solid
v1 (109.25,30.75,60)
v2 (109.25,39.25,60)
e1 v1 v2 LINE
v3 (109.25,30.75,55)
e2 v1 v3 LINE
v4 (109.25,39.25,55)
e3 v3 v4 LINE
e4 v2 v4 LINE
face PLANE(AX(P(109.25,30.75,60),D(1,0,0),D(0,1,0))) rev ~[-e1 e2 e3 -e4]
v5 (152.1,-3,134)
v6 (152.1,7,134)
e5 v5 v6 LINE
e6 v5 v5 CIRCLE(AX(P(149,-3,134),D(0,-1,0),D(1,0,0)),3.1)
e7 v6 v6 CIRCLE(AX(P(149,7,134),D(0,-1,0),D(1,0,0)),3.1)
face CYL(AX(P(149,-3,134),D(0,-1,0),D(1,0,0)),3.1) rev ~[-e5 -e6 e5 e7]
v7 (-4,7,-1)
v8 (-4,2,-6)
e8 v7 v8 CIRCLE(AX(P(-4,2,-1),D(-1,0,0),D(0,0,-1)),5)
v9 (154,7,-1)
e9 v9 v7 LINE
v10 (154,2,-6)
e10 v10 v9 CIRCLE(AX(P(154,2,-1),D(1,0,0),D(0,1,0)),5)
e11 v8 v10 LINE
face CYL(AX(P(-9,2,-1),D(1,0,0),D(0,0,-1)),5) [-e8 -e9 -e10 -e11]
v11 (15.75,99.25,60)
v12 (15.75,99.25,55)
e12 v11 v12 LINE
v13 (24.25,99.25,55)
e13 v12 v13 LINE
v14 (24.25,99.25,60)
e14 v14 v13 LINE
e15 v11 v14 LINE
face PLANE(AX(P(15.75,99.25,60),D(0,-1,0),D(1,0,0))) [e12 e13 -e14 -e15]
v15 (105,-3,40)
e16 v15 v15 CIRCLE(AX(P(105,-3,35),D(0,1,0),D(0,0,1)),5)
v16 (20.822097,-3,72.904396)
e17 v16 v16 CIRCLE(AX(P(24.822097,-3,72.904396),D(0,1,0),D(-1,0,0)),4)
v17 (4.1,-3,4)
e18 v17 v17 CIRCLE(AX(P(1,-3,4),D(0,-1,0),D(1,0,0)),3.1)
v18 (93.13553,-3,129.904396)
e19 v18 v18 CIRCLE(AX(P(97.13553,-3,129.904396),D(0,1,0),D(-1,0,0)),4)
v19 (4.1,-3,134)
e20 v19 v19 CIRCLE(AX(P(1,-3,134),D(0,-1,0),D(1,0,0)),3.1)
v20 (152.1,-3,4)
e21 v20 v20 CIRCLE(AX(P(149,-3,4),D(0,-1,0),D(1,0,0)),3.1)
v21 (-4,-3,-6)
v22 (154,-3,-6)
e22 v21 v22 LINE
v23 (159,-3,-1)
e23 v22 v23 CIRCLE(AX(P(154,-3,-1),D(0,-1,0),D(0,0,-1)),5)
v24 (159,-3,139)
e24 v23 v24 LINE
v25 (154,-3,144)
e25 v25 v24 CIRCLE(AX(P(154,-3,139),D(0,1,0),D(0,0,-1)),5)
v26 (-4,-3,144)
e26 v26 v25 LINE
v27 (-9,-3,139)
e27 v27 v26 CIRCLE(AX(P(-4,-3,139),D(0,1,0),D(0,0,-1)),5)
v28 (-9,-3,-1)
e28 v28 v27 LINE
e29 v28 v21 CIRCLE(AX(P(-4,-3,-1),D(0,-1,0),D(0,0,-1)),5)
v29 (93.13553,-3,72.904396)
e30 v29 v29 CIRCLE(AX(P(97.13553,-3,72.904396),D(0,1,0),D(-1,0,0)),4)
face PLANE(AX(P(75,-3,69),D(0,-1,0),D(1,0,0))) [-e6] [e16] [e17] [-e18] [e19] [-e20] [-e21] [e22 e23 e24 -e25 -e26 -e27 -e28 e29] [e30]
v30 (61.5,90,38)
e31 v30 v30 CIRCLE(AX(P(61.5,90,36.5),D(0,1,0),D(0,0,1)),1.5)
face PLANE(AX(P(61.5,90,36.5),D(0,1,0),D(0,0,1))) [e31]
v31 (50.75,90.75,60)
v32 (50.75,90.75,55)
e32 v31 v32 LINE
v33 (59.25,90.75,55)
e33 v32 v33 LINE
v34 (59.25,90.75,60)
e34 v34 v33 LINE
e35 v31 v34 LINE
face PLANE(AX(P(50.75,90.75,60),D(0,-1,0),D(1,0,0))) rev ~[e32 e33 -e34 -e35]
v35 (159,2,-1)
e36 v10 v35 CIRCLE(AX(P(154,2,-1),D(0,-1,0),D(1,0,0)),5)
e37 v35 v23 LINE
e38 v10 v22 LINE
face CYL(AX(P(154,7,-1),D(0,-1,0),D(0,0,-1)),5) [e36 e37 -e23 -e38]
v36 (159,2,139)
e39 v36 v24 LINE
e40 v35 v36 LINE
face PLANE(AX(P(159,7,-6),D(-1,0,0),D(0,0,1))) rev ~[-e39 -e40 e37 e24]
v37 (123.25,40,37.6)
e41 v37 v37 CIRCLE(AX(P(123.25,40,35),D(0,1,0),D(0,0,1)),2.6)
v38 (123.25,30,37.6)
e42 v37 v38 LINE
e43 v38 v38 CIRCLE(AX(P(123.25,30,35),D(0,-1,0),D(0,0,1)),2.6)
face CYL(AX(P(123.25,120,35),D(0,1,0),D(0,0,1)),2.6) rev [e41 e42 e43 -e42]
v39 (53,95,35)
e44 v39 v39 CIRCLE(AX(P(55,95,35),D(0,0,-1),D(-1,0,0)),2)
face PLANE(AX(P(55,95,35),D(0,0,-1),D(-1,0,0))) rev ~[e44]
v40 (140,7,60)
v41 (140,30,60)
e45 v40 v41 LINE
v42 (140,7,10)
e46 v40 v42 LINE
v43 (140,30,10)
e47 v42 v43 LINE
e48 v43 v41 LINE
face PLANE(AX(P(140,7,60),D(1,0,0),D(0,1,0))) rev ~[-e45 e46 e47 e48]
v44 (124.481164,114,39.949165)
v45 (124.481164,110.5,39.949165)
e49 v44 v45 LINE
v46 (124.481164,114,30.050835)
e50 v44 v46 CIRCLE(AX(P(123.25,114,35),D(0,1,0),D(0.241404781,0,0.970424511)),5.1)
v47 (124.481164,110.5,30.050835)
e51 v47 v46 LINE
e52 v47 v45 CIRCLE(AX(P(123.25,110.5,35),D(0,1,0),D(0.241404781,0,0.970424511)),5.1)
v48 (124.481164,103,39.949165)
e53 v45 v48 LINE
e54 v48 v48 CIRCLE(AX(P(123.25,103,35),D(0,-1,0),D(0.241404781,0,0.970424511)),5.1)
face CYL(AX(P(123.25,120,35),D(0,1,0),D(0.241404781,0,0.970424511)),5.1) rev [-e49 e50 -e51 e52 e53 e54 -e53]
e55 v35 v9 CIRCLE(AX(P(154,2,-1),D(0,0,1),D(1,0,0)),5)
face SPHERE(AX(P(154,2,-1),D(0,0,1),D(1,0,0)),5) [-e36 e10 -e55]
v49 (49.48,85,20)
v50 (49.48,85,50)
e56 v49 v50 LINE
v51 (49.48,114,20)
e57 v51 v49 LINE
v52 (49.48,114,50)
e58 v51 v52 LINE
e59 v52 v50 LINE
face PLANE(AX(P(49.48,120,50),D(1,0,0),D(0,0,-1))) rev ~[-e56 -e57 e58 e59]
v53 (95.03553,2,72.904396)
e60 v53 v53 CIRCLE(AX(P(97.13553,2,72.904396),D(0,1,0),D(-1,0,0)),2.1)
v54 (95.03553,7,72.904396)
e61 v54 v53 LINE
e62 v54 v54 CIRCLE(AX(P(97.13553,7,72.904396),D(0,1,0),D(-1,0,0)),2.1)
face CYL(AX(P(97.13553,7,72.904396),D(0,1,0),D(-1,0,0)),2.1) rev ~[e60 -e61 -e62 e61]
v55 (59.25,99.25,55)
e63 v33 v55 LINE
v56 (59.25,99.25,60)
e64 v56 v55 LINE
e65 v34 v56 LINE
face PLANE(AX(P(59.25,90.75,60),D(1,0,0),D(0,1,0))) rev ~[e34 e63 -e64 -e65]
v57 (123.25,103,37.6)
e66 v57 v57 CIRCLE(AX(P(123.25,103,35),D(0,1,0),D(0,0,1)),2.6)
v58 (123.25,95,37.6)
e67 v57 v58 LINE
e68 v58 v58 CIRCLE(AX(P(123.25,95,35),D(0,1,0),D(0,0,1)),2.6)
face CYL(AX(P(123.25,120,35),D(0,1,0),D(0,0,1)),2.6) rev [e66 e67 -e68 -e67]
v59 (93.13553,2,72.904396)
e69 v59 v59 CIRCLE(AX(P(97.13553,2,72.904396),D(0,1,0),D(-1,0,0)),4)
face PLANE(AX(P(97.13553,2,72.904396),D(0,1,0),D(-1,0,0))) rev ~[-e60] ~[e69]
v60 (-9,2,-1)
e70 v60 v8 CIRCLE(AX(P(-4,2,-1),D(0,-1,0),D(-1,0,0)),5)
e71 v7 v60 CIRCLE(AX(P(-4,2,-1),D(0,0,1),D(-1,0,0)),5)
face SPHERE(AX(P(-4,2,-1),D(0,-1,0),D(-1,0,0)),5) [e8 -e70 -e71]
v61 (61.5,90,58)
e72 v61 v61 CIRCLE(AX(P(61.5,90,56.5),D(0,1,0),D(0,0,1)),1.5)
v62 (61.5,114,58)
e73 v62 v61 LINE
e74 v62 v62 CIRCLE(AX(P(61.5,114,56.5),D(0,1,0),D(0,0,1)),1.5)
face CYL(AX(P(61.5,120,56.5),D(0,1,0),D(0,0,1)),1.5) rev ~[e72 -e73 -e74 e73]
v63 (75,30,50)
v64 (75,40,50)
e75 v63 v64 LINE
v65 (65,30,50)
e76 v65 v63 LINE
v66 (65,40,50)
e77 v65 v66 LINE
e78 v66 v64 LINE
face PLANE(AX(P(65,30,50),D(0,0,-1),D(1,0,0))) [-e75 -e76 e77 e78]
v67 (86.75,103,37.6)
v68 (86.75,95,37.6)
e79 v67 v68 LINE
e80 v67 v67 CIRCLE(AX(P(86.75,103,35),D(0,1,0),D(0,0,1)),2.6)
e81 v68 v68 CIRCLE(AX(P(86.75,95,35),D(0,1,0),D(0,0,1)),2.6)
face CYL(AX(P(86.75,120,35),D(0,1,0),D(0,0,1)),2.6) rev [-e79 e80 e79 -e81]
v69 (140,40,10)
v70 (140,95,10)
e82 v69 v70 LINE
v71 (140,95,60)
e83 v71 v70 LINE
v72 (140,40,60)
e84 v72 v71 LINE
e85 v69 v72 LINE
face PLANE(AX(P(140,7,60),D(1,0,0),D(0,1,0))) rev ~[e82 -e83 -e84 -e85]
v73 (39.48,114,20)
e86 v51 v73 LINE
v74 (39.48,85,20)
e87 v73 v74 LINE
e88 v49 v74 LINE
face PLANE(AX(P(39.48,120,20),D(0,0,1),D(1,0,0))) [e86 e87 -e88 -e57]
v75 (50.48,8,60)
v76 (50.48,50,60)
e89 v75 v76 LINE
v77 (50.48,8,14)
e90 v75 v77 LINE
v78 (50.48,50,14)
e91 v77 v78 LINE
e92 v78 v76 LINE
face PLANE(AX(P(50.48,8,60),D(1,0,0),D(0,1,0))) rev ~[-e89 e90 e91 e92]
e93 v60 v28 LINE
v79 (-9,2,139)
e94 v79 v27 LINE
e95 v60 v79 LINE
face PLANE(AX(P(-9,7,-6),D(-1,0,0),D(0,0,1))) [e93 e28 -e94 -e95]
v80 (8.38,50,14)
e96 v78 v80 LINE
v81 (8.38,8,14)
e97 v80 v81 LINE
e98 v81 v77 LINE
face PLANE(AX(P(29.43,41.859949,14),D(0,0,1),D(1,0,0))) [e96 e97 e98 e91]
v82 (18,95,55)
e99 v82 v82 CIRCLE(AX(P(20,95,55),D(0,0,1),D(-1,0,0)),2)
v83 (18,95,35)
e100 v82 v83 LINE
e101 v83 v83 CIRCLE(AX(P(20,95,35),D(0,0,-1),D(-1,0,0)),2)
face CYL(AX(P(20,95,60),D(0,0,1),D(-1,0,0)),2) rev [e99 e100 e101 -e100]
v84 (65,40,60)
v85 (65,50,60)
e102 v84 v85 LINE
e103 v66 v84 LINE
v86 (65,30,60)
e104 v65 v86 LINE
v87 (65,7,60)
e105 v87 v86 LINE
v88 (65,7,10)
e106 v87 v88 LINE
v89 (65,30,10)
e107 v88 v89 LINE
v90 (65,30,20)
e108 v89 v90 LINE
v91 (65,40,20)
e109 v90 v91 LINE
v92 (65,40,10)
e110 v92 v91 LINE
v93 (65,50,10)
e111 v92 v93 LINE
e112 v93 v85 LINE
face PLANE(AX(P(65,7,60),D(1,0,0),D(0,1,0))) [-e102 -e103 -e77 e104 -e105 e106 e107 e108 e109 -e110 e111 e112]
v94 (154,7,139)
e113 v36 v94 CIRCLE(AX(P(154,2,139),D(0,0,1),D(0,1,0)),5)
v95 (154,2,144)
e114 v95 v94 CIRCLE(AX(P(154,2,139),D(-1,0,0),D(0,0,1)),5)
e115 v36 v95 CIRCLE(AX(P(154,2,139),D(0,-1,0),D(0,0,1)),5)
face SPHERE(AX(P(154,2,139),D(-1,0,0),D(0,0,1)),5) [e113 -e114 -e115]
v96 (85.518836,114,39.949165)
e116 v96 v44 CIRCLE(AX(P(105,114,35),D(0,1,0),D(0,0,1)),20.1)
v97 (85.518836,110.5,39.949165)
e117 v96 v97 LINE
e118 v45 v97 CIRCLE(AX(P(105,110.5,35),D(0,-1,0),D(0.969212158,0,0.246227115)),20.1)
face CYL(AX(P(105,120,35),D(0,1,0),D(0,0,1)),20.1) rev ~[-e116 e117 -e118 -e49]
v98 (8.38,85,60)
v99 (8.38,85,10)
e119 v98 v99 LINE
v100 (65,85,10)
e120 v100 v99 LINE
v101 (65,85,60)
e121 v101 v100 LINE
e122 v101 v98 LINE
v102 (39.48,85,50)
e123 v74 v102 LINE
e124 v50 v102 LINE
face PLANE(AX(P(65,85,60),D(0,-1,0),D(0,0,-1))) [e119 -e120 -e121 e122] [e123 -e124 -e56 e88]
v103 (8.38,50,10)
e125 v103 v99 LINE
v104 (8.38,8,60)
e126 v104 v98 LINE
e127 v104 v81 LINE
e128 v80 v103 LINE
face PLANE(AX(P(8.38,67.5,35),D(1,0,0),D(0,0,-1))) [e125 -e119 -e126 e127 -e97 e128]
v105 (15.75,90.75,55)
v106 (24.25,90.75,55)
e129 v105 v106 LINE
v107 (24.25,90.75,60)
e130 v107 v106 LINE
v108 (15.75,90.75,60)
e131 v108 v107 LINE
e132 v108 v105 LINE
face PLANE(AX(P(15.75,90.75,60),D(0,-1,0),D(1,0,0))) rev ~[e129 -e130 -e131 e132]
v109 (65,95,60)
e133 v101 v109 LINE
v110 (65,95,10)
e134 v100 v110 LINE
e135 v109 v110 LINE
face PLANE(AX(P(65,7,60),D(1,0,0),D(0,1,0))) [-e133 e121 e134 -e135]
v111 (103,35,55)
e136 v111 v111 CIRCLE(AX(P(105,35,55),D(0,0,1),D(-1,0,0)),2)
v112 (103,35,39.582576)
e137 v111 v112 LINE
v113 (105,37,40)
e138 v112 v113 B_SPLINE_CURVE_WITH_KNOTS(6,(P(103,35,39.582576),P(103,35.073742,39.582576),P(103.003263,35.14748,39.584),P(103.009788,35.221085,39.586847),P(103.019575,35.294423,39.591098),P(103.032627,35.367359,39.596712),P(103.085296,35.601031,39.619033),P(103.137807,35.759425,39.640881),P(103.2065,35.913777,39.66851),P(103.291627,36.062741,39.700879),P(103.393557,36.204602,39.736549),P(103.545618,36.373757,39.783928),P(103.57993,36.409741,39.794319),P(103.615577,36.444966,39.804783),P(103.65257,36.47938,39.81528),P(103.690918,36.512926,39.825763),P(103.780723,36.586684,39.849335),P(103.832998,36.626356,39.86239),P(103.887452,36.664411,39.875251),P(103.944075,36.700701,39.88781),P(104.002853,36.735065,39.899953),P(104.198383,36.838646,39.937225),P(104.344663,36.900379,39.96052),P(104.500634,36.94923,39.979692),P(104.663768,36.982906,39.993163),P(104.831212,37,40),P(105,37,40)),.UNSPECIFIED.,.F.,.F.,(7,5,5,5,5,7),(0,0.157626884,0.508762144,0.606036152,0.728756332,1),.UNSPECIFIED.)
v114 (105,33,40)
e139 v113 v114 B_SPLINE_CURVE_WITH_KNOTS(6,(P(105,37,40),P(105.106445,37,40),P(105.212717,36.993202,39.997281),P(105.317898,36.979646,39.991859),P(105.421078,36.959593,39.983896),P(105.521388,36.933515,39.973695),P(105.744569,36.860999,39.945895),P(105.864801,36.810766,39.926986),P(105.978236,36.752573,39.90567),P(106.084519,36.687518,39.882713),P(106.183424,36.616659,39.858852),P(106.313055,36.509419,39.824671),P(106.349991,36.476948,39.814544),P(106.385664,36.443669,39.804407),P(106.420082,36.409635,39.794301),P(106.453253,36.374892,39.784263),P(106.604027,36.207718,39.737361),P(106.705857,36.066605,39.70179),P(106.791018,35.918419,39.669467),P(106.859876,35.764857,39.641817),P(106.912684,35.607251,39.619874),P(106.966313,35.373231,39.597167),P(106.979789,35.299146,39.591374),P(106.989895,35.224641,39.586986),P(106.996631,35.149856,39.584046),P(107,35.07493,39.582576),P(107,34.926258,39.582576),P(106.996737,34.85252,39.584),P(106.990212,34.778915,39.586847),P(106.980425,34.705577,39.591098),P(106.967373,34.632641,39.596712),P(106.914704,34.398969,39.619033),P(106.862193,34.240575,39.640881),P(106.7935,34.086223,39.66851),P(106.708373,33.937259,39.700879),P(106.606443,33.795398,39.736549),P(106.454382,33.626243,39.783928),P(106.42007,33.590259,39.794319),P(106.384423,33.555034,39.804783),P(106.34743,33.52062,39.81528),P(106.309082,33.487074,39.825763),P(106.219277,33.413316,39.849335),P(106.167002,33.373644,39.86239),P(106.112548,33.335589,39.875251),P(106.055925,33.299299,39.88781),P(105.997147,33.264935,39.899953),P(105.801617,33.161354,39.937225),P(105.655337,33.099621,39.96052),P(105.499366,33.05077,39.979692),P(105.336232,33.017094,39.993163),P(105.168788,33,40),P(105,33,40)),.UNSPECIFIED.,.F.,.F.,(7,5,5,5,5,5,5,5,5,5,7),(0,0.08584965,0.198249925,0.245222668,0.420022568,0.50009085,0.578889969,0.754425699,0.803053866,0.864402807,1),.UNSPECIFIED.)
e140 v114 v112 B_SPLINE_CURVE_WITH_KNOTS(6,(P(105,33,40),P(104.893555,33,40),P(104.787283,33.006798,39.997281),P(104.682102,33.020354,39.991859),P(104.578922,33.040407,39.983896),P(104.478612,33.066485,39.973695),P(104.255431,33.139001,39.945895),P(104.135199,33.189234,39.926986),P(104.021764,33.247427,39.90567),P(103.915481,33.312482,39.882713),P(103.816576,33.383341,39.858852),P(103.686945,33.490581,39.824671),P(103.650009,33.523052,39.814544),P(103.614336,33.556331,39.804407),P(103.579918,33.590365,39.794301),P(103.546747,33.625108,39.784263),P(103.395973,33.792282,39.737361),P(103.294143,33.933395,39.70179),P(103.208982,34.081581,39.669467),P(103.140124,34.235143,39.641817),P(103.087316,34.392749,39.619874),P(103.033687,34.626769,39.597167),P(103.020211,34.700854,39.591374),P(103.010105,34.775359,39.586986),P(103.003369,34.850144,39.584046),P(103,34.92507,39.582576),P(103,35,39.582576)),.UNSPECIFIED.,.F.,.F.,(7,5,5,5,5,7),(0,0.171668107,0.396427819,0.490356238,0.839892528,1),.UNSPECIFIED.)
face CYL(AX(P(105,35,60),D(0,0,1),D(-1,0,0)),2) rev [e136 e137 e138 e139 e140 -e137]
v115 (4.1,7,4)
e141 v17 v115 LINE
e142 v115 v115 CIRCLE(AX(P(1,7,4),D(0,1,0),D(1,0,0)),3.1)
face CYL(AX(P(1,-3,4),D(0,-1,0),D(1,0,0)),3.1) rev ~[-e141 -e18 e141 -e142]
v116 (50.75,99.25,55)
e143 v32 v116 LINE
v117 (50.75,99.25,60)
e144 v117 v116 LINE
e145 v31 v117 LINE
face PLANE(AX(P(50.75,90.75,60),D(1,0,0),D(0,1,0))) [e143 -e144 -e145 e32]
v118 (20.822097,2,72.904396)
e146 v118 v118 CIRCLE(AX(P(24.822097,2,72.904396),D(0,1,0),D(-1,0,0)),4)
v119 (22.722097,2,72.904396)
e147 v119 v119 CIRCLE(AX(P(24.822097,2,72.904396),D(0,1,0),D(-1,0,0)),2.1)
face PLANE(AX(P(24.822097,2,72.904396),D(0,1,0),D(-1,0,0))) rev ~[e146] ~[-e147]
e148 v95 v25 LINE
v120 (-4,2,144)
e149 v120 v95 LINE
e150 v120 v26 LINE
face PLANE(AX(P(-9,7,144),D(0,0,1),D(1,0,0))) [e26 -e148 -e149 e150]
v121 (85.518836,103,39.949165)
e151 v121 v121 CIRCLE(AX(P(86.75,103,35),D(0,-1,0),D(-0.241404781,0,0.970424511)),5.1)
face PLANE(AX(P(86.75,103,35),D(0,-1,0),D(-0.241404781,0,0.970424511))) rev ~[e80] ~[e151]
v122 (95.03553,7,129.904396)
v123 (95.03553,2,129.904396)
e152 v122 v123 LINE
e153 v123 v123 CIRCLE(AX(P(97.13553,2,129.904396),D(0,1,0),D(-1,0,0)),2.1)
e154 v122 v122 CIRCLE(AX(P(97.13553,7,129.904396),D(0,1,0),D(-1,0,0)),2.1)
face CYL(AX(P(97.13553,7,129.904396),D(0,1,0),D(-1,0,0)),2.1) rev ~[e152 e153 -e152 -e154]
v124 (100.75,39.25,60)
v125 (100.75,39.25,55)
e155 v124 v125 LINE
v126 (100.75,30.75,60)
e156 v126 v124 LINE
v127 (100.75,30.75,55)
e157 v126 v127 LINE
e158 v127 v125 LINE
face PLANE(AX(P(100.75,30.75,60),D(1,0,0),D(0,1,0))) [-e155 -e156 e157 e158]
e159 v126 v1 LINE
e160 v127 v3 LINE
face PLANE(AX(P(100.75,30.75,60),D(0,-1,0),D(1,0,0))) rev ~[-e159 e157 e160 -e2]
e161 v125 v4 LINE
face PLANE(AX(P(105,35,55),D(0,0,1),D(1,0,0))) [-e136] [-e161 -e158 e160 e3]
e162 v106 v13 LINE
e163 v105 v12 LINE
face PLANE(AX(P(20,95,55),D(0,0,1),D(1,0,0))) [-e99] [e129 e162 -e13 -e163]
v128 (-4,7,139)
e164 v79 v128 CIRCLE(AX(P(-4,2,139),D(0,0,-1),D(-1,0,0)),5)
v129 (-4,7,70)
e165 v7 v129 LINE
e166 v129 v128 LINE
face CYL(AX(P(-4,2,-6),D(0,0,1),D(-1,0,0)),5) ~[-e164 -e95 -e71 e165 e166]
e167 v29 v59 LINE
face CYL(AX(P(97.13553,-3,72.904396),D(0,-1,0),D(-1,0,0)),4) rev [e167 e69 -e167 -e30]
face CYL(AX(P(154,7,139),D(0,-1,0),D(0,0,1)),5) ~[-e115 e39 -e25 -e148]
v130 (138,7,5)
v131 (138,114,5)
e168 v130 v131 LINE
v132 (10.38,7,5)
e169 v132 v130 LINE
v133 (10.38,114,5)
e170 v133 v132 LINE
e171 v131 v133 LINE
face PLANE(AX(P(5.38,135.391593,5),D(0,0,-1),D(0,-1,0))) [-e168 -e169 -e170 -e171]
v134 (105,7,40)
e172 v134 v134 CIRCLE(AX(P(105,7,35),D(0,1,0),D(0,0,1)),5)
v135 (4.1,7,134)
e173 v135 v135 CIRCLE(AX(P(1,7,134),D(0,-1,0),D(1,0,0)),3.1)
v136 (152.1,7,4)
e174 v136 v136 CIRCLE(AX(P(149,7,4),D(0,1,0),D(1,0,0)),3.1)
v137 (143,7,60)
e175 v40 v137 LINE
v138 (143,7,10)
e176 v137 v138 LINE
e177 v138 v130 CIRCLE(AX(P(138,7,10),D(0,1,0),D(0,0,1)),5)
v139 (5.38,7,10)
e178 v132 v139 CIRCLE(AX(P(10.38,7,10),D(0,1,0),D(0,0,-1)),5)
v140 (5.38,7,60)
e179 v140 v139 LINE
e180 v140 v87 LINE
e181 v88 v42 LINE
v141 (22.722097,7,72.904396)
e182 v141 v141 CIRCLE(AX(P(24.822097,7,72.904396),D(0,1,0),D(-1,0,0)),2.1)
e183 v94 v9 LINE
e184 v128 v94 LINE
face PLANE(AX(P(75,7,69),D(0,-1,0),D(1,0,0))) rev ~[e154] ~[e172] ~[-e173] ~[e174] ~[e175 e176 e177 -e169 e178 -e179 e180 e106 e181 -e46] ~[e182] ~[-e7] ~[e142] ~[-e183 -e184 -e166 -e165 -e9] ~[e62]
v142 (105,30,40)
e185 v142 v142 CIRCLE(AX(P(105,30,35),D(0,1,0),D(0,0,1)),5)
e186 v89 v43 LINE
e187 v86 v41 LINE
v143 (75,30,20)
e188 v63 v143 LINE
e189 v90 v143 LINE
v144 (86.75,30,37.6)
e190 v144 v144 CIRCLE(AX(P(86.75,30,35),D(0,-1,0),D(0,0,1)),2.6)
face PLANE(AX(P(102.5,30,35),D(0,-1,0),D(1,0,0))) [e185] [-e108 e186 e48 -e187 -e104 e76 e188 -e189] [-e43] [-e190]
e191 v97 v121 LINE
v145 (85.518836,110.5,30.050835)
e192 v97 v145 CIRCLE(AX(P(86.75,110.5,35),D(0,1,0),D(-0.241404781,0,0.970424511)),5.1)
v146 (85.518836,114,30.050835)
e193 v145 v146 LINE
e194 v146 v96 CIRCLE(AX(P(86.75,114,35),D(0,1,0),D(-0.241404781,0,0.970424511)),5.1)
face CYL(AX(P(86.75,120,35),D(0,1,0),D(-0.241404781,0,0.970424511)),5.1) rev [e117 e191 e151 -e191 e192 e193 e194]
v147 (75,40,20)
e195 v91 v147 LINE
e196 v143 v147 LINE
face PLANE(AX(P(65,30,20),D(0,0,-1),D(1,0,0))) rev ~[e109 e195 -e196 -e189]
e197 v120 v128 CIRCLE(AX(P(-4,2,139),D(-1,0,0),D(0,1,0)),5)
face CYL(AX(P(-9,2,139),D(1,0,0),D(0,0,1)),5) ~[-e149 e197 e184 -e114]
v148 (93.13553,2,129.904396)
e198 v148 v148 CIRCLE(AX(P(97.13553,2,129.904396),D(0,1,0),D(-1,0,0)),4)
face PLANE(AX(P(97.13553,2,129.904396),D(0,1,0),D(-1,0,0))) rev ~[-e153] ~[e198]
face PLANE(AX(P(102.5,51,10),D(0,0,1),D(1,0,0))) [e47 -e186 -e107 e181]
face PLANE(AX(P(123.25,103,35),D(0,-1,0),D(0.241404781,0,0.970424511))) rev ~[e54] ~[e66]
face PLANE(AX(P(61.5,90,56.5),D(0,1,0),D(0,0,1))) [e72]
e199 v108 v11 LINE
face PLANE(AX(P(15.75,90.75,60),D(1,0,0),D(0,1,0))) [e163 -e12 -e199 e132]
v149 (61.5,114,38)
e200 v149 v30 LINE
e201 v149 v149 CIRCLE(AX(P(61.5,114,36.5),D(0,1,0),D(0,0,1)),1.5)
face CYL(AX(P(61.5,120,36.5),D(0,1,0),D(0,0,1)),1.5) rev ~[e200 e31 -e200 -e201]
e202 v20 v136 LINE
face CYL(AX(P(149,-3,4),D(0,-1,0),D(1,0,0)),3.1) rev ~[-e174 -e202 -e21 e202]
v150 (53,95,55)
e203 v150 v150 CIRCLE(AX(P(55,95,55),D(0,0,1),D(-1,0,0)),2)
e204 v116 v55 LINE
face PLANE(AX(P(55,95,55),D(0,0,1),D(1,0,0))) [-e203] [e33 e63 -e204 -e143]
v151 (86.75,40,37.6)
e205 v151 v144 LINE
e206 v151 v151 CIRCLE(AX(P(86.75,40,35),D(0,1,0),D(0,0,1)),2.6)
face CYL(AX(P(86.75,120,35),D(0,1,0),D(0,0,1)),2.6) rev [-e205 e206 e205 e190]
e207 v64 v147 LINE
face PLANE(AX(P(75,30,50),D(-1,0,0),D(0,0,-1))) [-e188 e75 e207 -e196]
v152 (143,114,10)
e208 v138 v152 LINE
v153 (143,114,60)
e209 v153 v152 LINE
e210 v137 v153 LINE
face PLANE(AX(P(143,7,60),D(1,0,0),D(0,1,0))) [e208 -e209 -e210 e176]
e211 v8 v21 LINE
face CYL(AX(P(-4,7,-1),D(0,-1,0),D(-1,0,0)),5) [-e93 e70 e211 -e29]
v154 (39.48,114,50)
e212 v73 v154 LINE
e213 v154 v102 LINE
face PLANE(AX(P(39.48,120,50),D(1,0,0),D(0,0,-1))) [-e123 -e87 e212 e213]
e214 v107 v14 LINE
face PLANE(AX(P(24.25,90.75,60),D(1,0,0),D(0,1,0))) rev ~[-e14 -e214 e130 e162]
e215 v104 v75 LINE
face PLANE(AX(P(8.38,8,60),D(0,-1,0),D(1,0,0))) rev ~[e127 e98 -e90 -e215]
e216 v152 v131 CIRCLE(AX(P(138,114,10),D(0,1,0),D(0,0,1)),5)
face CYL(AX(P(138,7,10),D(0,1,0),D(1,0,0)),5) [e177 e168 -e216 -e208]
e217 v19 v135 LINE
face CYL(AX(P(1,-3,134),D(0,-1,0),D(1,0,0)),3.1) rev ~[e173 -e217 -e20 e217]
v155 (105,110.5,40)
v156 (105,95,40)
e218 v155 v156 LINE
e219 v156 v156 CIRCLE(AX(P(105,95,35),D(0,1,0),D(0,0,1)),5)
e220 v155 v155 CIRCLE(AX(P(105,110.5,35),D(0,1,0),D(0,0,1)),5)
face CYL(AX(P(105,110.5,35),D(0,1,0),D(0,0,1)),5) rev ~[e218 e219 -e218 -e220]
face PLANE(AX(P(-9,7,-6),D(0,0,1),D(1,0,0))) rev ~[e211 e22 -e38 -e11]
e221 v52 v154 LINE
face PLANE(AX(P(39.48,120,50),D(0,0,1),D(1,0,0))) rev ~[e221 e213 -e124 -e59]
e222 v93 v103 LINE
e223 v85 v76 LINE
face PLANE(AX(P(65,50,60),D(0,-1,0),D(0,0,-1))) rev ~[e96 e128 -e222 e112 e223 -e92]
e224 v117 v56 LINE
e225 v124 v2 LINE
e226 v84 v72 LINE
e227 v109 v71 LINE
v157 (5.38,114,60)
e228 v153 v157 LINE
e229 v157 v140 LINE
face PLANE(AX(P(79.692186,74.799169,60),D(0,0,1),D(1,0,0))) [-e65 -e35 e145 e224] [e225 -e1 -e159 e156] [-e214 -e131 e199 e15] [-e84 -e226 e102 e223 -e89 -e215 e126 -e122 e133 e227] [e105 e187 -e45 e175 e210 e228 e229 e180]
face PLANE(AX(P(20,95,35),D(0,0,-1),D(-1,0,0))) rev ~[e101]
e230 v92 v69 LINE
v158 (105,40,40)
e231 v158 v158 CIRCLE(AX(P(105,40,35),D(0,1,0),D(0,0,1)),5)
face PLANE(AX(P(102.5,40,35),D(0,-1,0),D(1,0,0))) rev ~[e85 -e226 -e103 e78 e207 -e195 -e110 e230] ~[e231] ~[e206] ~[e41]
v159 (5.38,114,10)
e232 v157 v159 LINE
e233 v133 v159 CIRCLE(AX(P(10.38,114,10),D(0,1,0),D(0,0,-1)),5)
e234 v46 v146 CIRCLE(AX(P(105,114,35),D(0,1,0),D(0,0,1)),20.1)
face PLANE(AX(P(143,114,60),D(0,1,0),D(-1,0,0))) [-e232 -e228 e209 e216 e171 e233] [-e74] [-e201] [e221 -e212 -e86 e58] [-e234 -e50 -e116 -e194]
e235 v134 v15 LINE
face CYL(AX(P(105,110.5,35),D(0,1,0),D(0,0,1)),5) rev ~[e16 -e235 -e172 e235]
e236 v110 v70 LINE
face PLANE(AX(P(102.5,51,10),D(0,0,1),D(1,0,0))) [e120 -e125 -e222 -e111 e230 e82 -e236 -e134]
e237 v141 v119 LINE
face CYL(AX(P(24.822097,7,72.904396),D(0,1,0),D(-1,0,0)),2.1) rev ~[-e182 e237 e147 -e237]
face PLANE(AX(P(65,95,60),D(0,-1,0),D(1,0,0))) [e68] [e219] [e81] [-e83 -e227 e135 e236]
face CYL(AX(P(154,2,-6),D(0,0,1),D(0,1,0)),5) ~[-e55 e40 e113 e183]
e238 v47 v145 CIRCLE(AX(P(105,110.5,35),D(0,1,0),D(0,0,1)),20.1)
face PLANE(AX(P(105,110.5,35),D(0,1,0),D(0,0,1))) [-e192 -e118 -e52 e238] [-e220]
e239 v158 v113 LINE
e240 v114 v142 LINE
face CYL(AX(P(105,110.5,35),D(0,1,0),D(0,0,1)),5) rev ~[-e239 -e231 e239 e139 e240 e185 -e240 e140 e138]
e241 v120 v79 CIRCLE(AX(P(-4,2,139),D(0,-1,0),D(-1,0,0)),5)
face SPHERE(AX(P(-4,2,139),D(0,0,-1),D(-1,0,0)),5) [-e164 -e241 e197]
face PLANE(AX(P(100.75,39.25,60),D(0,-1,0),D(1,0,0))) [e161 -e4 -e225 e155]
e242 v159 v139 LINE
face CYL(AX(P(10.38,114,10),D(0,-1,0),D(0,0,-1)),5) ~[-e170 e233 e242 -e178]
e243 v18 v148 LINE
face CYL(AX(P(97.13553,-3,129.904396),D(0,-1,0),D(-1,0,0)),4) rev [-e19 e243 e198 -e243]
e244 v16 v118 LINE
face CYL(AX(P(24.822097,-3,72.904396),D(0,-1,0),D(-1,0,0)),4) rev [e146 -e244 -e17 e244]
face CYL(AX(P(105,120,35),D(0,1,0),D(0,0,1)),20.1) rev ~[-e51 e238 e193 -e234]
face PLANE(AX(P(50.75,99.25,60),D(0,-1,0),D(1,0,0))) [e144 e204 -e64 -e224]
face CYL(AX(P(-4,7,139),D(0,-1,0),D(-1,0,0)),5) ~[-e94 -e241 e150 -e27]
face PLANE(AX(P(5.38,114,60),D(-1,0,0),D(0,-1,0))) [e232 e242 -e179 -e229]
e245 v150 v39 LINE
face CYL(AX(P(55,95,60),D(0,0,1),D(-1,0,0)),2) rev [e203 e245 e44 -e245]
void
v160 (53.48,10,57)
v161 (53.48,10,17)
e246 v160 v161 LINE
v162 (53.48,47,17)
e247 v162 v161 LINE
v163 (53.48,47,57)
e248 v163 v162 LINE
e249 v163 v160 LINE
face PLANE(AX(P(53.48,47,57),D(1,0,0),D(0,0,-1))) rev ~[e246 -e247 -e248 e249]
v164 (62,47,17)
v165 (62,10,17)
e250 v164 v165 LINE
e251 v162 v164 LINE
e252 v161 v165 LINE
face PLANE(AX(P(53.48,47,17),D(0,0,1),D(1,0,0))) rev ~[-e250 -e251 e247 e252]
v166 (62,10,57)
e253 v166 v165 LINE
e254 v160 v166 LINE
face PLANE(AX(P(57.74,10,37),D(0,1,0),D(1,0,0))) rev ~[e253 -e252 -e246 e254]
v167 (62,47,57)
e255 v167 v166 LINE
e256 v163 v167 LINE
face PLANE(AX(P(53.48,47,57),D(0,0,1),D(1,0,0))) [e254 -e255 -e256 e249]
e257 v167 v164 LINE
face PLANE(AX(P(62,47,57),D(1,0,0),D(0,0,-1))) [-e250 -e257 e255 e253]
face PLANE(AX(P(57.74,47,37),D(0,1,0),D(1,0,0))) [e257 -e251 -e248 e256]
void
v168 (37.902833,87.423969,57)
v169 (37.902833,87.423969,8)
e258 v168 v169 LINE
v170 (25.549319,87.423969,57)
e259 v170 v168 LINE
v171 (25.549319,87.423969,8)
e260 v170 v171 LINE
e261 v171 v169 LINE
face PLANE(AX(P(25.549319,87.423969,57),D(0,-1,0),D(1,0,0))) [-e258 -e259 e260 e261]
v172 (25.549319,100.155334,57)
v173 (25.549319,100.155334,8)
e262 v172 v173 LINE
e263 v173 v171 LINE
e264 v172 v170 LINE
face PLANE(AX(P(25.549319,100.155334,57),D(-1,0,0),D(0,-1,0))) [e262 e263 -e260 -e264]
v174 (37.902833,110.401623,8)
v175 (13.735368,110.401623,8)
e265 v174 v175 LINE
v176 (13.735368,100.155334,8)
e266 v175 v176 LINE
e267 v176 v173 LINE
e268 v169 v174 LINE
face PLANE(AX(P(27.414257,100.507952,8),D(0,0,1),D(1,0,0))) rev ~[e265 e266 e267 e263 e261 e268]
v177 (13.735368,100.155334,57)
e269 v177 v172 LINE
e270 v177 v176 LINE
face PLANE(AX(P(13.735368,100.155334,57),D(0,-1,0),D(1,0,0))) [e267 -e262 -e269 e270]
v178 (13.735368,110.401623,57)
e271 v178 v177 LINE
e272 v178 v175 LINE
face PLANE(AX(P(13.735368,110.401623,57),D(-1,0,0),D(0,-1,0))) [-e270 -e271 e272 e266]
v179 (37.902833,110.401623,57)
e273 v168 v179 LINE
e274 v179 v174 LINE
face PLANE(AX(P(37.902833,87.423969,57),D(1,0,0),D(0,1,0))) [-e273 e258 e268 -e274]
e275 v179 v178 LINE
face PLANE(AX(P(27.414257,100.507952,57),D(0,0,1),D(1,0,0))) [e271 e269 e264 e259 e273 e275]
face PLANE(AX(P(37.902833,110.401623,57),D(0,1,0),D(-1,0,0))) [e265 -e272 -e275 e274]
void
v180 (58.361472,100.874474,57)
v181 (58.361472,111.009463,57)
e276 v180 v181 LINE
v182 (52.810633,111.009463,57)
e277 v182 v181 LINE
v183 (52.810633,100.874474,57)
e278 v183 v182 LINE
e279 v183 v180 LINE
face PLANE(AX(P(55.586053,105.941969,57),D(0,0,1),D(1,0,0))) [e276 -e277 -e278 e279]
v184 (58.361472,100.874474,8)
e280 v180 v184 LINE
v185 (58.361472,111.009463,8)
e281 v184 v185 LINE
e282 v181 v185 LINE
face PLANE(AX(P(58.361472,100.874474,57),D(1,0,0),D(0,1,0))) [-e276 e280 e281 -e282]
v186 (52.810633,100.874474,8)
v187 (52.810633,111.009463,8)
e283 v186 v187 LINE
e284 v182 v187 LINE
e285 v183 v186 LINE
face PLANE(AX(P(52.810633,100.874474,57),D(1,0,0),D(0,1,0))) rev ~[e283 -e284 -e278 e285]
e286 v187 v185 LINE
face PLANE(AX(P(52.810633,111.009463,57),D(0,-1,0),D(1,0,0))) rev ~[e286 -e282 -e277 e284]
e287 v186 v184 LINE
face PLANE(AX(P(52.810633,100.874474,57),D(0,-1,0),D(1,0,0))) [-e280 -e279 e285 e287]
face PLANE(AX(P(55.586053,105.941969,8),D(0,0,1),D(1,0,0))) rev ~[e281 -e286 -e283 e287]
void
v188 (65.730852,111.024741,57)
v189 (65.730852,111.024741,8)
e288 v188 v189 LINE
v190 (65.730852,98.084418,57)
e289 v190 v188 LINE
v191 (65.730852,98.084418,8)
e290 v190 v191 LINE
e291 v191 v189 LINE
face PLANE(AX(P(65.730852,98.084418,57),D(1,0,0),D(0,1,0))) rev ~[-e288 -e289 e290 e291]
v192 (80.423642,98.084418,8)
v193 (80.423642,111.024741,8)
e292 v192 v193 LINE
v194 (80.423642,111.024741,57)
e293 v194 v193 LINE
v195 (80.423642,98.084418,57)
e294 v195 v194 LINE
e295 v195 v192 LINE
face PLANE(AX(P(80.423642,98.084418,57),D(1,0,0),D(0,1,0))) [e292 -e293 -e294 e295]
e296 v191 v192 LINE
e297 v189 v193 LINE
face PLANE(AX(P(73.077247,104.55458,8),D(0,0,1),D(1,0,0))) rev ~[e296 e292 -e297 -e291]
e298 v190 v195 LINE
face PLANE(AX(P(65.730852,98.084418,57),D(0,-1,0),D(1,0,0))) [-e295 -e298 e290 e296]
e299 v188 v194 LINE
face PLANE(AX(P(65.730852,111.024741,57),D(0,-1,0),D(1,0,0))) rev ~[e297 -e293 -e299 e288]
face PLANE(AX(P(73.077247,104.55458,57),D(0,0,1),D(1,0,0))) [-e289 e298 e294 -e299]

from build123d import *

# Parameters (mm, degrees)
SKETCH1_W                = 150
SKETCH1_H                = 120
BOSS_EXTRUDE2_DEPTH      = 70
BOSS_EXTRUDE5_DEPTH      = 3
BOSS_EXTRUDE5_DEPTH_BACK = 7
SKETCH4_W                = 168
SKETCH4_H                = 150
SKETCH6_R                = 3.1
CUT_EXTRUDE1_DEPTH       = 20
FILLET2_R                = 5
SKETCH2_R                = 20.1
CUT_EXTRUDE2_DEPTH       = 9.5
SKETCH9_R                = 5
CUT_EXTRUDE5_DEPTH       = 20
SKETCH15_W               = 167.384372829
SKETCH15_H               = 135.598337876
CUT_EXTRUDE12_DEPTH      = 10
SKETCH16_W               = 75
SKETCH16_H               = 88
CUT_EXTRUDE13_DEPTH      = 50
BOSS_EXTRUDE6_START      = 55
SKETCH18_W               = 75
SKETCH18_H               = 50
BOSS_EXTRUDE6_DEPTH      = 10
CUT_EXTRUDE14_START      = -25
SKETCH17_R               = 5.1
CUT_EXTRUDE14_DEPTH      = 17
CUT_EXTRUDE15_START      = -25
SKETCH17_3_R             = 2.6
CUT_EXTRUDE15_DEPTH      = 90
SKETCH19_W               = 50
SKETCH19_H               = 35
CUT_EXTRUDE19_DEPTH      = 56.62
CUT_EXTRUDE20_DEPTH      = 46
CUT_EXTRUDE21_START      = -60
SKETCH21_R               = 2
CUT_EXTRUDE21_DEPTH      = 25
SKETCH9_4_R              = 5
CUT_EXTRUDE24_DEPTH      = 150
CUT_EXTRUDE25_START      = -10
SKETCH22_W               = 10
SKETCH22_H               = 30
CUT_EXTRUDE25_DEPTH      = 29
SKETCH23_R               = 2.1
CUT_EXTRUDE26_DEPTH      = 243.458243828
CUT_EXTRUDE27_START      = -10
SKETCH23_3_R             = 4
CUT_EXTRUDE27_DEPTH      = 5
SKETCH24_R               = 1.5
CUT_EXTRUDE28_DEPTH      = 30
SKETCH25_W               = 10
SKETCH25_H               = 30
CUT_EXTRUDE29_DEPTH      = 40
CUT_EXTRUDE30_DEPTH      = 196
CUT_EXTRUDE32_DEPTH      = 196
CUT_EXTRUDE33_START      = -3
SKETCH30_W               = 8.52
SKETCH30_H               = 40
CUT_EXTRUDE33_DEPTH      = 37
FILLET3_R                = 5
CUT_EXTRUDE34_START      = -3
SKETCH31_W               = 5.550839789
SKETCH31_H               = 10.134989035
SKETCH31_W_2             = 14.692790928
SKETCH31_H_2             = 12.94032263
CUT_EXTRUDE34_DEPTH      = 49
SKETCH32_W               = 8.5
SKETCH32_H               = 8.5
CUT_EXTRUDE37_DEPTH      = 5


with BuildPart() as part:
    # Sketch1 → Boss-Extrude2 (new body)
    with BuildSketch(Plane.XY):
        with Locations((75, 60)):
            Rectangle(SKETCH1_W, SKETCH1_H)
    extrude(amount=BOSS_EXTRUDE2_DEPTH)

    # Sketch4 → Boss-Extrude5 (add, two sides: drawn at the far end of the back side and taken through both)
    with BuildSketch(Plane.XZ.offset(-BOSS_EXTRUDE5_DEPTH_BACK)):
        with Locations((75, 69)):
            Rectangle(SKETCH4_W, SKETCH4_H)
    extrude(amount=BOSS_EXTRUDE5_DEPTH + BOSS_EXTRUDE5_DEPTH_BACK)

    # Sketch6 → Cut-Extrude1 (cut)
    with BuildSketch(Plane.XZ.offset(3)):
        with Locations((1, 134)):
            Circle(SKETCH6_R)
        with Locations((149, 134)):
            Circle(SKETCH6_R)
        with Locations((149, 4)):
            Circle(SKETCH6_R)
        with Locations((1, 4)):
            Circle(SKETCH6_R)
    extrude(amount=-CUT_EXTRUDE1_DEPTH, mode=Mode.SUBTRACT)

    # Fillet2
    fillet2_edges = [part.edges().sort_by_distance(p)[0] for p in [
        (-9, 2, -6),
        (-9, 7, 69),
        (-9, 2, 144),
        (75, 7, 144),
        (159, 2, 144),
        (159, 7, 69),
        (159, 2, -6),
        (75, 7, -6),
    ]]
    fillet(fillet2_edges, radius=FILLET2_R)

    # Sketch2 → Cut-Extrude2 (cut)
    with BuildSketch(Plane(origin=(0, 120, 0), x_dir=(1, 0, 0), z_dir=(0, 1, 0))):
        with Locations(Location((105, -35, 0), (0, 0, 270))):
            Circle(SKETCH2_R)
    extrude(amount=-CUT_EXTRUDE2_DEPTH, mode=Mode.SUBTRACT)

    # Sketch9 → Cut-Extrude5 (cut)
    with BuildSketch(Plane(origin=(0, 110.5, 0), x_dir=(1, 0, 0), z_dir=(0, 1, 0))):
        with Locations(Location((105, -35, 0), (0, 0, 270))):
            Circle(SKETCH9_R)
    extrude(amount=-CUT_EXTRUDE5_DEPTH, mode=Mode.SUBTRACT)

    # Sketch15 → Cut-Extrude12 (cut)
    with BuildSketch(Plane.XY.offset(70)):
        with Locations((79.692186415, 74.799168938)):
            Rectangle(SKETCH15_W, SKETCH15_H)
    extrude(amount=-CUT_EXTRUDE12_DEPTH, mode=Mode.SUBTRACT)

    # Sketch16 → Cut-Extrude13 (cut)
    with BuildSketch(Plane.XY.offset(60)):
        with Locations((102.5, 51)):
            Rectangle(SKETCH16_W, SKETCH16_H)
    extrude(amount=-CUT_EXTRUDE13_DEPTH, mode=Mode.SUBTRACT)

    # Sketch18 → Boss-Extrude6 (add)
    with BuildSketch(Plane.XZ.offset(-95).offset(BOSS_EXTRUDE6_START)):
        with Locations((102.5, 35)):
            Rectangle(SKETCH18_W, SKETCH18_H)
    extrude(amount=BOSS_EXTRUDE6_DEPTH)

    # Sketch17 → Cut-Extrude14 (cut)
    with BuildSketch(Plane.XZ.offset(-95).offset(CUT_EXTRUDE14_START)):
        with Locations(Location((123.25, 35, 0), (0, 0, 76.030533487))):
            Circle(SKETCH17_R)
        with Locations(Location((86.75, 35, 0), (0, 0, 103.969466513))):
            Circle(SKETCH17_R)
    extrude(amount=CUT_EXTRUDE14_DEPTH, mode=Mode.SUBTRACT)

    # Sketch17<3> → Cut-Extrude15 (cut)
    with BuildSketch(Plane.XZ.offset(-95).offset(CUT_EXTRUDE15_START)):
        with Locations(Location((123.25, 35, 0), (0, 0, 90))):
            Circle(SKETCH17_3_R)
        with Locations(Location((86.75, 35, 0), (0, 0, 90))):
            Circle(SKETCH17_3_R)
    extrude(amount=CUT_EXTRUDE15_DEPTH, mode=Mode.SUBTRACT)

    # Sketch19 → Cut-Extrude19 (cut)
    with BuildSketch(Plane(origin=(65, 0, 0), x_dir=(0, 0, -1), z_dir=(1, 0, 0))):
        with Locations((-35, 67.5)):
            Rectangle(SKETCH19_W, SKETCH19_H)
    extrude(amount=-CUT_EXTRUDE19_DEPTH, mode=Mode.SUBTRACT)

    # Sketch20 → Cut-Extrude20 (cut)
    with BuildSketch(Plane.XY.offset(60)):
        Polygon((8.38, 8), (50.48, 8), (50.48, 58), (33.43, 58), (33.43, 83), (25.43, 83), (25.43, 58), (8.38, 58), align=None)
    extrude(amount=-CUT_EXTRUDE20_DEPTH, mode=Mode.SUBTRACT)

    # Sketch21 → Cut-Extrude21 (cut)
    with BuildSketch(Plane(origin=(0, 0, 0), x_dir=(-1, 0, 0), z_dir=(0, 0, -1)).offset(CUT_EXTRUDE21_START)):
        with Locations((-20, 95)):
            Circle(SKETCH21_R)
        with Locations((-105, 35)):
            Circle(SKETCH21_R)
        with Locations((-55, 95)):
            Circle(SKETCH21_R)
    extrude(amount=CUT_EXTRUDE21_DEPTH, mode=Mode.SUBTRACT)

    # Sketch9<4> → Cut-Extrude24 (cut)
    with BuildSketch(Plane(origin=(0, 110.5, 0), x_dir=(1, 0, 0), z_dir=(0, 1, 0))):
        with Locations(Location((105, -35, 0), (0, 0, 270))):
            Circle(SKETCH9_4_R)
    extrude(amount=-CUT_EXTRUDE24_DEPTH, mode=Mode.SUBTRACT)

    # Sketch22 → Cut-Extrude25 (cut)
    with BuildSketch(Plane(origin=(0, 40, 0), x_dir=(1, 0, 0), z_dir=(0, 1, 0)).offset(CUT_EXTRUDE25_START)):
        with Locations((70, -35)):
            Rectangle(SKETCH22_W, SKETCH22_H)
    extrude(amount=CUT_EXTRUDE25_DEPTH, mode=Mode.SUBTRACT)

    # Sketch23 → Cut-Extrude26 (cut, through all)
    with BuildSketch(Plane(origin=(0, 7, 0), x_dir=(1, 0, 0), z_dir=(0, 1, 0))):
        with Locations(Location((24.822097221, -72.904396363, 0), (0, 0, 180))):
            Circle(SKETCH23_R)
        with Locations(Location((97.135530056, -72.904396363, 0), (0, 0, 180))):
            Circle(SKETCH23_R)
        with Locations(Location((97.135530056, -129.904396363, 0), (0, 0, 180))):
            Circle(SKETCH23_R)
    extrude(amount=-CUT_EXTRUDE26_DEPTH, mode=Mode.SUBTRACT)

    # Sketch23<3> → Cut-Extrude27 (cut)
    with BuildSketch(Plane(origin=(0, 7, 0), x_dir=(1, 0, 0), z_dir=(0, 1, 0)).offset(CUT_EXTRUDE27_START)):
        with Locations(Location((24.822097221, -72.904396363, 0), (0, 0, 180))):
            Circle(SKETCH23_3_R)
        with Locations(Location((97.135530056, -72.904396363, 0), (0, 0, 180))):
            Circle(SKETCH23_3_R)
        with Locations(Location((97.135530056, -129.904396363, 0), (0, 0, 180))):
            Circle(SKETCH23_3_R)
    extrude(amount=CUT_EXTRUDE27_DEPTH, mode=Mode.SUBTRACT)

    # Sketch24 → Cut-Extrude28 (cut)
    with BuildSketch(Plane(origin=(0, 120, 0), x_dir=(1, 0, 0), z_dir=(0, 1, 0))):
        with Locations(Location((61.5, -36.5, 0), (0, 0, 270))):
            Circle(SKETCH24_R)
        with Locations(Location((61.5, -56.5, 0), (0, 0, 270))):
            Circle(SKETCH24_R)
    extrude(amount=-CUT_EXTRUDE28_DEPTH, mode=Mode.SUBTRACT)

    # Sketch25 → Cut-Extrude29 (cut)
    with BuildSketch(Plane(origin=(0, 120, 0), x_dir=(1, 0, 0), z_dir=(0, 1, 0))):
        with Locations((44.48, -35)):
            Rectangle(SKETCH25_W, SKETCH25_H)
    extrude(amount=-CUT_EXTRUDE29_DEPTH, mode=Mode.SUBTRACT)

    # Sketch27 → Cut-Extrude30 (cut)
    with BuildSketch(Plane.XY.offset(60)):
        Polygon((143, 114), (5.38, 114), (5.38, 7), (-15.039720256, 7), (-15.039720256, 109), (-15.039720256, 126.65195416), (160.466879019, 126.65195416), (160.466879019, 109), (160.466879019, 7), (143, 7), align=None)
    extrude(amount=-CUT_EXTRUDE30_DEPTH, mode=Mode.SUBTRACT)

    # Sketch29 → Cut-Extrude32 (cut)
    with BuildSketch(Plane.ZY.offset(-5.38)):
        Polygon((-8.937501462, 135.391592563), (5, 135.391592563), (5, 7), (-13.483359674, 7), align=None)
    extrude(amount=-CUT_EXTRUDE32_DEPTH, mode=Mode.SUBTRACT)

    # Sketch30 → Cut-Extrude33 (cut)
    with BuildSketch(Plane(origin=(0, 50, 0), x_dir=(1, 0, 0), z_dir=(0, 1, 0)).offset(CUT_EXTRUDE33_START)):
        with Locations((57.74, -37)):
            Rectangle(SKETCH30_W, SKETCH30_H)
    extrude(amount=-CUT_EXTRUDE33_DEPTH, mode=Mode.SUBTRACT)

    # Fillet3
    fillet3_edges = [part.edges().sort_by_distance(p)[0] for p in [
        (143, 60.5, 5),
        (5.38, 60.5, 5),
    ]]
    fillet(fillet3_edges, radius=FILLET3_R)

    # Sketch31 → Cut-Extrude34 (cut)
    with BuildSketch(Plane.XY.offset(60).offset(CUT_EXTRUDE34_START)):
        Polygon((37.902832863, 110.401622614), (25.54931853, 110.401622614), (13.735368308, 110.401622614), (13.735368308, 100.155334019), (25.54931853, 100.155334019), (25.54931853, 87.423968607), (37.902832863, 87.423968607), align=None)
        with Locations((55.5860526, 105.941968642)):
            Rectangle(SKETCH31_W, SKETCH31_H)
        with Locations((73.077247019, 104.554579716)):
            Rectangle(SKETCH31_W_2, SKETCH31_H_2)
    extrude(amount=-CUT_EXTRUDE34_DEPTH, mode=Mode.SUBTRACT)

    # Sketch32 → Cut-Extrude37 (cut)
    with BuildSketch(Plane.XY.offset(60)):
        with Locations((20, 95)):
            Rectangle(SKETCH32_W, SKETCH32_H)
        with Locations((55, 95)):
            Rectangle(SKETCH32_W, SKETCH32_H)
        with Locations((105, 35)):
            Rectangle(SKETCH32_W, SKETCH32_H)
    extrude(amount=-CUT_EXTRUDE37_DEPTH, mode=Mode.SUBTRACT)


solid = part.part
